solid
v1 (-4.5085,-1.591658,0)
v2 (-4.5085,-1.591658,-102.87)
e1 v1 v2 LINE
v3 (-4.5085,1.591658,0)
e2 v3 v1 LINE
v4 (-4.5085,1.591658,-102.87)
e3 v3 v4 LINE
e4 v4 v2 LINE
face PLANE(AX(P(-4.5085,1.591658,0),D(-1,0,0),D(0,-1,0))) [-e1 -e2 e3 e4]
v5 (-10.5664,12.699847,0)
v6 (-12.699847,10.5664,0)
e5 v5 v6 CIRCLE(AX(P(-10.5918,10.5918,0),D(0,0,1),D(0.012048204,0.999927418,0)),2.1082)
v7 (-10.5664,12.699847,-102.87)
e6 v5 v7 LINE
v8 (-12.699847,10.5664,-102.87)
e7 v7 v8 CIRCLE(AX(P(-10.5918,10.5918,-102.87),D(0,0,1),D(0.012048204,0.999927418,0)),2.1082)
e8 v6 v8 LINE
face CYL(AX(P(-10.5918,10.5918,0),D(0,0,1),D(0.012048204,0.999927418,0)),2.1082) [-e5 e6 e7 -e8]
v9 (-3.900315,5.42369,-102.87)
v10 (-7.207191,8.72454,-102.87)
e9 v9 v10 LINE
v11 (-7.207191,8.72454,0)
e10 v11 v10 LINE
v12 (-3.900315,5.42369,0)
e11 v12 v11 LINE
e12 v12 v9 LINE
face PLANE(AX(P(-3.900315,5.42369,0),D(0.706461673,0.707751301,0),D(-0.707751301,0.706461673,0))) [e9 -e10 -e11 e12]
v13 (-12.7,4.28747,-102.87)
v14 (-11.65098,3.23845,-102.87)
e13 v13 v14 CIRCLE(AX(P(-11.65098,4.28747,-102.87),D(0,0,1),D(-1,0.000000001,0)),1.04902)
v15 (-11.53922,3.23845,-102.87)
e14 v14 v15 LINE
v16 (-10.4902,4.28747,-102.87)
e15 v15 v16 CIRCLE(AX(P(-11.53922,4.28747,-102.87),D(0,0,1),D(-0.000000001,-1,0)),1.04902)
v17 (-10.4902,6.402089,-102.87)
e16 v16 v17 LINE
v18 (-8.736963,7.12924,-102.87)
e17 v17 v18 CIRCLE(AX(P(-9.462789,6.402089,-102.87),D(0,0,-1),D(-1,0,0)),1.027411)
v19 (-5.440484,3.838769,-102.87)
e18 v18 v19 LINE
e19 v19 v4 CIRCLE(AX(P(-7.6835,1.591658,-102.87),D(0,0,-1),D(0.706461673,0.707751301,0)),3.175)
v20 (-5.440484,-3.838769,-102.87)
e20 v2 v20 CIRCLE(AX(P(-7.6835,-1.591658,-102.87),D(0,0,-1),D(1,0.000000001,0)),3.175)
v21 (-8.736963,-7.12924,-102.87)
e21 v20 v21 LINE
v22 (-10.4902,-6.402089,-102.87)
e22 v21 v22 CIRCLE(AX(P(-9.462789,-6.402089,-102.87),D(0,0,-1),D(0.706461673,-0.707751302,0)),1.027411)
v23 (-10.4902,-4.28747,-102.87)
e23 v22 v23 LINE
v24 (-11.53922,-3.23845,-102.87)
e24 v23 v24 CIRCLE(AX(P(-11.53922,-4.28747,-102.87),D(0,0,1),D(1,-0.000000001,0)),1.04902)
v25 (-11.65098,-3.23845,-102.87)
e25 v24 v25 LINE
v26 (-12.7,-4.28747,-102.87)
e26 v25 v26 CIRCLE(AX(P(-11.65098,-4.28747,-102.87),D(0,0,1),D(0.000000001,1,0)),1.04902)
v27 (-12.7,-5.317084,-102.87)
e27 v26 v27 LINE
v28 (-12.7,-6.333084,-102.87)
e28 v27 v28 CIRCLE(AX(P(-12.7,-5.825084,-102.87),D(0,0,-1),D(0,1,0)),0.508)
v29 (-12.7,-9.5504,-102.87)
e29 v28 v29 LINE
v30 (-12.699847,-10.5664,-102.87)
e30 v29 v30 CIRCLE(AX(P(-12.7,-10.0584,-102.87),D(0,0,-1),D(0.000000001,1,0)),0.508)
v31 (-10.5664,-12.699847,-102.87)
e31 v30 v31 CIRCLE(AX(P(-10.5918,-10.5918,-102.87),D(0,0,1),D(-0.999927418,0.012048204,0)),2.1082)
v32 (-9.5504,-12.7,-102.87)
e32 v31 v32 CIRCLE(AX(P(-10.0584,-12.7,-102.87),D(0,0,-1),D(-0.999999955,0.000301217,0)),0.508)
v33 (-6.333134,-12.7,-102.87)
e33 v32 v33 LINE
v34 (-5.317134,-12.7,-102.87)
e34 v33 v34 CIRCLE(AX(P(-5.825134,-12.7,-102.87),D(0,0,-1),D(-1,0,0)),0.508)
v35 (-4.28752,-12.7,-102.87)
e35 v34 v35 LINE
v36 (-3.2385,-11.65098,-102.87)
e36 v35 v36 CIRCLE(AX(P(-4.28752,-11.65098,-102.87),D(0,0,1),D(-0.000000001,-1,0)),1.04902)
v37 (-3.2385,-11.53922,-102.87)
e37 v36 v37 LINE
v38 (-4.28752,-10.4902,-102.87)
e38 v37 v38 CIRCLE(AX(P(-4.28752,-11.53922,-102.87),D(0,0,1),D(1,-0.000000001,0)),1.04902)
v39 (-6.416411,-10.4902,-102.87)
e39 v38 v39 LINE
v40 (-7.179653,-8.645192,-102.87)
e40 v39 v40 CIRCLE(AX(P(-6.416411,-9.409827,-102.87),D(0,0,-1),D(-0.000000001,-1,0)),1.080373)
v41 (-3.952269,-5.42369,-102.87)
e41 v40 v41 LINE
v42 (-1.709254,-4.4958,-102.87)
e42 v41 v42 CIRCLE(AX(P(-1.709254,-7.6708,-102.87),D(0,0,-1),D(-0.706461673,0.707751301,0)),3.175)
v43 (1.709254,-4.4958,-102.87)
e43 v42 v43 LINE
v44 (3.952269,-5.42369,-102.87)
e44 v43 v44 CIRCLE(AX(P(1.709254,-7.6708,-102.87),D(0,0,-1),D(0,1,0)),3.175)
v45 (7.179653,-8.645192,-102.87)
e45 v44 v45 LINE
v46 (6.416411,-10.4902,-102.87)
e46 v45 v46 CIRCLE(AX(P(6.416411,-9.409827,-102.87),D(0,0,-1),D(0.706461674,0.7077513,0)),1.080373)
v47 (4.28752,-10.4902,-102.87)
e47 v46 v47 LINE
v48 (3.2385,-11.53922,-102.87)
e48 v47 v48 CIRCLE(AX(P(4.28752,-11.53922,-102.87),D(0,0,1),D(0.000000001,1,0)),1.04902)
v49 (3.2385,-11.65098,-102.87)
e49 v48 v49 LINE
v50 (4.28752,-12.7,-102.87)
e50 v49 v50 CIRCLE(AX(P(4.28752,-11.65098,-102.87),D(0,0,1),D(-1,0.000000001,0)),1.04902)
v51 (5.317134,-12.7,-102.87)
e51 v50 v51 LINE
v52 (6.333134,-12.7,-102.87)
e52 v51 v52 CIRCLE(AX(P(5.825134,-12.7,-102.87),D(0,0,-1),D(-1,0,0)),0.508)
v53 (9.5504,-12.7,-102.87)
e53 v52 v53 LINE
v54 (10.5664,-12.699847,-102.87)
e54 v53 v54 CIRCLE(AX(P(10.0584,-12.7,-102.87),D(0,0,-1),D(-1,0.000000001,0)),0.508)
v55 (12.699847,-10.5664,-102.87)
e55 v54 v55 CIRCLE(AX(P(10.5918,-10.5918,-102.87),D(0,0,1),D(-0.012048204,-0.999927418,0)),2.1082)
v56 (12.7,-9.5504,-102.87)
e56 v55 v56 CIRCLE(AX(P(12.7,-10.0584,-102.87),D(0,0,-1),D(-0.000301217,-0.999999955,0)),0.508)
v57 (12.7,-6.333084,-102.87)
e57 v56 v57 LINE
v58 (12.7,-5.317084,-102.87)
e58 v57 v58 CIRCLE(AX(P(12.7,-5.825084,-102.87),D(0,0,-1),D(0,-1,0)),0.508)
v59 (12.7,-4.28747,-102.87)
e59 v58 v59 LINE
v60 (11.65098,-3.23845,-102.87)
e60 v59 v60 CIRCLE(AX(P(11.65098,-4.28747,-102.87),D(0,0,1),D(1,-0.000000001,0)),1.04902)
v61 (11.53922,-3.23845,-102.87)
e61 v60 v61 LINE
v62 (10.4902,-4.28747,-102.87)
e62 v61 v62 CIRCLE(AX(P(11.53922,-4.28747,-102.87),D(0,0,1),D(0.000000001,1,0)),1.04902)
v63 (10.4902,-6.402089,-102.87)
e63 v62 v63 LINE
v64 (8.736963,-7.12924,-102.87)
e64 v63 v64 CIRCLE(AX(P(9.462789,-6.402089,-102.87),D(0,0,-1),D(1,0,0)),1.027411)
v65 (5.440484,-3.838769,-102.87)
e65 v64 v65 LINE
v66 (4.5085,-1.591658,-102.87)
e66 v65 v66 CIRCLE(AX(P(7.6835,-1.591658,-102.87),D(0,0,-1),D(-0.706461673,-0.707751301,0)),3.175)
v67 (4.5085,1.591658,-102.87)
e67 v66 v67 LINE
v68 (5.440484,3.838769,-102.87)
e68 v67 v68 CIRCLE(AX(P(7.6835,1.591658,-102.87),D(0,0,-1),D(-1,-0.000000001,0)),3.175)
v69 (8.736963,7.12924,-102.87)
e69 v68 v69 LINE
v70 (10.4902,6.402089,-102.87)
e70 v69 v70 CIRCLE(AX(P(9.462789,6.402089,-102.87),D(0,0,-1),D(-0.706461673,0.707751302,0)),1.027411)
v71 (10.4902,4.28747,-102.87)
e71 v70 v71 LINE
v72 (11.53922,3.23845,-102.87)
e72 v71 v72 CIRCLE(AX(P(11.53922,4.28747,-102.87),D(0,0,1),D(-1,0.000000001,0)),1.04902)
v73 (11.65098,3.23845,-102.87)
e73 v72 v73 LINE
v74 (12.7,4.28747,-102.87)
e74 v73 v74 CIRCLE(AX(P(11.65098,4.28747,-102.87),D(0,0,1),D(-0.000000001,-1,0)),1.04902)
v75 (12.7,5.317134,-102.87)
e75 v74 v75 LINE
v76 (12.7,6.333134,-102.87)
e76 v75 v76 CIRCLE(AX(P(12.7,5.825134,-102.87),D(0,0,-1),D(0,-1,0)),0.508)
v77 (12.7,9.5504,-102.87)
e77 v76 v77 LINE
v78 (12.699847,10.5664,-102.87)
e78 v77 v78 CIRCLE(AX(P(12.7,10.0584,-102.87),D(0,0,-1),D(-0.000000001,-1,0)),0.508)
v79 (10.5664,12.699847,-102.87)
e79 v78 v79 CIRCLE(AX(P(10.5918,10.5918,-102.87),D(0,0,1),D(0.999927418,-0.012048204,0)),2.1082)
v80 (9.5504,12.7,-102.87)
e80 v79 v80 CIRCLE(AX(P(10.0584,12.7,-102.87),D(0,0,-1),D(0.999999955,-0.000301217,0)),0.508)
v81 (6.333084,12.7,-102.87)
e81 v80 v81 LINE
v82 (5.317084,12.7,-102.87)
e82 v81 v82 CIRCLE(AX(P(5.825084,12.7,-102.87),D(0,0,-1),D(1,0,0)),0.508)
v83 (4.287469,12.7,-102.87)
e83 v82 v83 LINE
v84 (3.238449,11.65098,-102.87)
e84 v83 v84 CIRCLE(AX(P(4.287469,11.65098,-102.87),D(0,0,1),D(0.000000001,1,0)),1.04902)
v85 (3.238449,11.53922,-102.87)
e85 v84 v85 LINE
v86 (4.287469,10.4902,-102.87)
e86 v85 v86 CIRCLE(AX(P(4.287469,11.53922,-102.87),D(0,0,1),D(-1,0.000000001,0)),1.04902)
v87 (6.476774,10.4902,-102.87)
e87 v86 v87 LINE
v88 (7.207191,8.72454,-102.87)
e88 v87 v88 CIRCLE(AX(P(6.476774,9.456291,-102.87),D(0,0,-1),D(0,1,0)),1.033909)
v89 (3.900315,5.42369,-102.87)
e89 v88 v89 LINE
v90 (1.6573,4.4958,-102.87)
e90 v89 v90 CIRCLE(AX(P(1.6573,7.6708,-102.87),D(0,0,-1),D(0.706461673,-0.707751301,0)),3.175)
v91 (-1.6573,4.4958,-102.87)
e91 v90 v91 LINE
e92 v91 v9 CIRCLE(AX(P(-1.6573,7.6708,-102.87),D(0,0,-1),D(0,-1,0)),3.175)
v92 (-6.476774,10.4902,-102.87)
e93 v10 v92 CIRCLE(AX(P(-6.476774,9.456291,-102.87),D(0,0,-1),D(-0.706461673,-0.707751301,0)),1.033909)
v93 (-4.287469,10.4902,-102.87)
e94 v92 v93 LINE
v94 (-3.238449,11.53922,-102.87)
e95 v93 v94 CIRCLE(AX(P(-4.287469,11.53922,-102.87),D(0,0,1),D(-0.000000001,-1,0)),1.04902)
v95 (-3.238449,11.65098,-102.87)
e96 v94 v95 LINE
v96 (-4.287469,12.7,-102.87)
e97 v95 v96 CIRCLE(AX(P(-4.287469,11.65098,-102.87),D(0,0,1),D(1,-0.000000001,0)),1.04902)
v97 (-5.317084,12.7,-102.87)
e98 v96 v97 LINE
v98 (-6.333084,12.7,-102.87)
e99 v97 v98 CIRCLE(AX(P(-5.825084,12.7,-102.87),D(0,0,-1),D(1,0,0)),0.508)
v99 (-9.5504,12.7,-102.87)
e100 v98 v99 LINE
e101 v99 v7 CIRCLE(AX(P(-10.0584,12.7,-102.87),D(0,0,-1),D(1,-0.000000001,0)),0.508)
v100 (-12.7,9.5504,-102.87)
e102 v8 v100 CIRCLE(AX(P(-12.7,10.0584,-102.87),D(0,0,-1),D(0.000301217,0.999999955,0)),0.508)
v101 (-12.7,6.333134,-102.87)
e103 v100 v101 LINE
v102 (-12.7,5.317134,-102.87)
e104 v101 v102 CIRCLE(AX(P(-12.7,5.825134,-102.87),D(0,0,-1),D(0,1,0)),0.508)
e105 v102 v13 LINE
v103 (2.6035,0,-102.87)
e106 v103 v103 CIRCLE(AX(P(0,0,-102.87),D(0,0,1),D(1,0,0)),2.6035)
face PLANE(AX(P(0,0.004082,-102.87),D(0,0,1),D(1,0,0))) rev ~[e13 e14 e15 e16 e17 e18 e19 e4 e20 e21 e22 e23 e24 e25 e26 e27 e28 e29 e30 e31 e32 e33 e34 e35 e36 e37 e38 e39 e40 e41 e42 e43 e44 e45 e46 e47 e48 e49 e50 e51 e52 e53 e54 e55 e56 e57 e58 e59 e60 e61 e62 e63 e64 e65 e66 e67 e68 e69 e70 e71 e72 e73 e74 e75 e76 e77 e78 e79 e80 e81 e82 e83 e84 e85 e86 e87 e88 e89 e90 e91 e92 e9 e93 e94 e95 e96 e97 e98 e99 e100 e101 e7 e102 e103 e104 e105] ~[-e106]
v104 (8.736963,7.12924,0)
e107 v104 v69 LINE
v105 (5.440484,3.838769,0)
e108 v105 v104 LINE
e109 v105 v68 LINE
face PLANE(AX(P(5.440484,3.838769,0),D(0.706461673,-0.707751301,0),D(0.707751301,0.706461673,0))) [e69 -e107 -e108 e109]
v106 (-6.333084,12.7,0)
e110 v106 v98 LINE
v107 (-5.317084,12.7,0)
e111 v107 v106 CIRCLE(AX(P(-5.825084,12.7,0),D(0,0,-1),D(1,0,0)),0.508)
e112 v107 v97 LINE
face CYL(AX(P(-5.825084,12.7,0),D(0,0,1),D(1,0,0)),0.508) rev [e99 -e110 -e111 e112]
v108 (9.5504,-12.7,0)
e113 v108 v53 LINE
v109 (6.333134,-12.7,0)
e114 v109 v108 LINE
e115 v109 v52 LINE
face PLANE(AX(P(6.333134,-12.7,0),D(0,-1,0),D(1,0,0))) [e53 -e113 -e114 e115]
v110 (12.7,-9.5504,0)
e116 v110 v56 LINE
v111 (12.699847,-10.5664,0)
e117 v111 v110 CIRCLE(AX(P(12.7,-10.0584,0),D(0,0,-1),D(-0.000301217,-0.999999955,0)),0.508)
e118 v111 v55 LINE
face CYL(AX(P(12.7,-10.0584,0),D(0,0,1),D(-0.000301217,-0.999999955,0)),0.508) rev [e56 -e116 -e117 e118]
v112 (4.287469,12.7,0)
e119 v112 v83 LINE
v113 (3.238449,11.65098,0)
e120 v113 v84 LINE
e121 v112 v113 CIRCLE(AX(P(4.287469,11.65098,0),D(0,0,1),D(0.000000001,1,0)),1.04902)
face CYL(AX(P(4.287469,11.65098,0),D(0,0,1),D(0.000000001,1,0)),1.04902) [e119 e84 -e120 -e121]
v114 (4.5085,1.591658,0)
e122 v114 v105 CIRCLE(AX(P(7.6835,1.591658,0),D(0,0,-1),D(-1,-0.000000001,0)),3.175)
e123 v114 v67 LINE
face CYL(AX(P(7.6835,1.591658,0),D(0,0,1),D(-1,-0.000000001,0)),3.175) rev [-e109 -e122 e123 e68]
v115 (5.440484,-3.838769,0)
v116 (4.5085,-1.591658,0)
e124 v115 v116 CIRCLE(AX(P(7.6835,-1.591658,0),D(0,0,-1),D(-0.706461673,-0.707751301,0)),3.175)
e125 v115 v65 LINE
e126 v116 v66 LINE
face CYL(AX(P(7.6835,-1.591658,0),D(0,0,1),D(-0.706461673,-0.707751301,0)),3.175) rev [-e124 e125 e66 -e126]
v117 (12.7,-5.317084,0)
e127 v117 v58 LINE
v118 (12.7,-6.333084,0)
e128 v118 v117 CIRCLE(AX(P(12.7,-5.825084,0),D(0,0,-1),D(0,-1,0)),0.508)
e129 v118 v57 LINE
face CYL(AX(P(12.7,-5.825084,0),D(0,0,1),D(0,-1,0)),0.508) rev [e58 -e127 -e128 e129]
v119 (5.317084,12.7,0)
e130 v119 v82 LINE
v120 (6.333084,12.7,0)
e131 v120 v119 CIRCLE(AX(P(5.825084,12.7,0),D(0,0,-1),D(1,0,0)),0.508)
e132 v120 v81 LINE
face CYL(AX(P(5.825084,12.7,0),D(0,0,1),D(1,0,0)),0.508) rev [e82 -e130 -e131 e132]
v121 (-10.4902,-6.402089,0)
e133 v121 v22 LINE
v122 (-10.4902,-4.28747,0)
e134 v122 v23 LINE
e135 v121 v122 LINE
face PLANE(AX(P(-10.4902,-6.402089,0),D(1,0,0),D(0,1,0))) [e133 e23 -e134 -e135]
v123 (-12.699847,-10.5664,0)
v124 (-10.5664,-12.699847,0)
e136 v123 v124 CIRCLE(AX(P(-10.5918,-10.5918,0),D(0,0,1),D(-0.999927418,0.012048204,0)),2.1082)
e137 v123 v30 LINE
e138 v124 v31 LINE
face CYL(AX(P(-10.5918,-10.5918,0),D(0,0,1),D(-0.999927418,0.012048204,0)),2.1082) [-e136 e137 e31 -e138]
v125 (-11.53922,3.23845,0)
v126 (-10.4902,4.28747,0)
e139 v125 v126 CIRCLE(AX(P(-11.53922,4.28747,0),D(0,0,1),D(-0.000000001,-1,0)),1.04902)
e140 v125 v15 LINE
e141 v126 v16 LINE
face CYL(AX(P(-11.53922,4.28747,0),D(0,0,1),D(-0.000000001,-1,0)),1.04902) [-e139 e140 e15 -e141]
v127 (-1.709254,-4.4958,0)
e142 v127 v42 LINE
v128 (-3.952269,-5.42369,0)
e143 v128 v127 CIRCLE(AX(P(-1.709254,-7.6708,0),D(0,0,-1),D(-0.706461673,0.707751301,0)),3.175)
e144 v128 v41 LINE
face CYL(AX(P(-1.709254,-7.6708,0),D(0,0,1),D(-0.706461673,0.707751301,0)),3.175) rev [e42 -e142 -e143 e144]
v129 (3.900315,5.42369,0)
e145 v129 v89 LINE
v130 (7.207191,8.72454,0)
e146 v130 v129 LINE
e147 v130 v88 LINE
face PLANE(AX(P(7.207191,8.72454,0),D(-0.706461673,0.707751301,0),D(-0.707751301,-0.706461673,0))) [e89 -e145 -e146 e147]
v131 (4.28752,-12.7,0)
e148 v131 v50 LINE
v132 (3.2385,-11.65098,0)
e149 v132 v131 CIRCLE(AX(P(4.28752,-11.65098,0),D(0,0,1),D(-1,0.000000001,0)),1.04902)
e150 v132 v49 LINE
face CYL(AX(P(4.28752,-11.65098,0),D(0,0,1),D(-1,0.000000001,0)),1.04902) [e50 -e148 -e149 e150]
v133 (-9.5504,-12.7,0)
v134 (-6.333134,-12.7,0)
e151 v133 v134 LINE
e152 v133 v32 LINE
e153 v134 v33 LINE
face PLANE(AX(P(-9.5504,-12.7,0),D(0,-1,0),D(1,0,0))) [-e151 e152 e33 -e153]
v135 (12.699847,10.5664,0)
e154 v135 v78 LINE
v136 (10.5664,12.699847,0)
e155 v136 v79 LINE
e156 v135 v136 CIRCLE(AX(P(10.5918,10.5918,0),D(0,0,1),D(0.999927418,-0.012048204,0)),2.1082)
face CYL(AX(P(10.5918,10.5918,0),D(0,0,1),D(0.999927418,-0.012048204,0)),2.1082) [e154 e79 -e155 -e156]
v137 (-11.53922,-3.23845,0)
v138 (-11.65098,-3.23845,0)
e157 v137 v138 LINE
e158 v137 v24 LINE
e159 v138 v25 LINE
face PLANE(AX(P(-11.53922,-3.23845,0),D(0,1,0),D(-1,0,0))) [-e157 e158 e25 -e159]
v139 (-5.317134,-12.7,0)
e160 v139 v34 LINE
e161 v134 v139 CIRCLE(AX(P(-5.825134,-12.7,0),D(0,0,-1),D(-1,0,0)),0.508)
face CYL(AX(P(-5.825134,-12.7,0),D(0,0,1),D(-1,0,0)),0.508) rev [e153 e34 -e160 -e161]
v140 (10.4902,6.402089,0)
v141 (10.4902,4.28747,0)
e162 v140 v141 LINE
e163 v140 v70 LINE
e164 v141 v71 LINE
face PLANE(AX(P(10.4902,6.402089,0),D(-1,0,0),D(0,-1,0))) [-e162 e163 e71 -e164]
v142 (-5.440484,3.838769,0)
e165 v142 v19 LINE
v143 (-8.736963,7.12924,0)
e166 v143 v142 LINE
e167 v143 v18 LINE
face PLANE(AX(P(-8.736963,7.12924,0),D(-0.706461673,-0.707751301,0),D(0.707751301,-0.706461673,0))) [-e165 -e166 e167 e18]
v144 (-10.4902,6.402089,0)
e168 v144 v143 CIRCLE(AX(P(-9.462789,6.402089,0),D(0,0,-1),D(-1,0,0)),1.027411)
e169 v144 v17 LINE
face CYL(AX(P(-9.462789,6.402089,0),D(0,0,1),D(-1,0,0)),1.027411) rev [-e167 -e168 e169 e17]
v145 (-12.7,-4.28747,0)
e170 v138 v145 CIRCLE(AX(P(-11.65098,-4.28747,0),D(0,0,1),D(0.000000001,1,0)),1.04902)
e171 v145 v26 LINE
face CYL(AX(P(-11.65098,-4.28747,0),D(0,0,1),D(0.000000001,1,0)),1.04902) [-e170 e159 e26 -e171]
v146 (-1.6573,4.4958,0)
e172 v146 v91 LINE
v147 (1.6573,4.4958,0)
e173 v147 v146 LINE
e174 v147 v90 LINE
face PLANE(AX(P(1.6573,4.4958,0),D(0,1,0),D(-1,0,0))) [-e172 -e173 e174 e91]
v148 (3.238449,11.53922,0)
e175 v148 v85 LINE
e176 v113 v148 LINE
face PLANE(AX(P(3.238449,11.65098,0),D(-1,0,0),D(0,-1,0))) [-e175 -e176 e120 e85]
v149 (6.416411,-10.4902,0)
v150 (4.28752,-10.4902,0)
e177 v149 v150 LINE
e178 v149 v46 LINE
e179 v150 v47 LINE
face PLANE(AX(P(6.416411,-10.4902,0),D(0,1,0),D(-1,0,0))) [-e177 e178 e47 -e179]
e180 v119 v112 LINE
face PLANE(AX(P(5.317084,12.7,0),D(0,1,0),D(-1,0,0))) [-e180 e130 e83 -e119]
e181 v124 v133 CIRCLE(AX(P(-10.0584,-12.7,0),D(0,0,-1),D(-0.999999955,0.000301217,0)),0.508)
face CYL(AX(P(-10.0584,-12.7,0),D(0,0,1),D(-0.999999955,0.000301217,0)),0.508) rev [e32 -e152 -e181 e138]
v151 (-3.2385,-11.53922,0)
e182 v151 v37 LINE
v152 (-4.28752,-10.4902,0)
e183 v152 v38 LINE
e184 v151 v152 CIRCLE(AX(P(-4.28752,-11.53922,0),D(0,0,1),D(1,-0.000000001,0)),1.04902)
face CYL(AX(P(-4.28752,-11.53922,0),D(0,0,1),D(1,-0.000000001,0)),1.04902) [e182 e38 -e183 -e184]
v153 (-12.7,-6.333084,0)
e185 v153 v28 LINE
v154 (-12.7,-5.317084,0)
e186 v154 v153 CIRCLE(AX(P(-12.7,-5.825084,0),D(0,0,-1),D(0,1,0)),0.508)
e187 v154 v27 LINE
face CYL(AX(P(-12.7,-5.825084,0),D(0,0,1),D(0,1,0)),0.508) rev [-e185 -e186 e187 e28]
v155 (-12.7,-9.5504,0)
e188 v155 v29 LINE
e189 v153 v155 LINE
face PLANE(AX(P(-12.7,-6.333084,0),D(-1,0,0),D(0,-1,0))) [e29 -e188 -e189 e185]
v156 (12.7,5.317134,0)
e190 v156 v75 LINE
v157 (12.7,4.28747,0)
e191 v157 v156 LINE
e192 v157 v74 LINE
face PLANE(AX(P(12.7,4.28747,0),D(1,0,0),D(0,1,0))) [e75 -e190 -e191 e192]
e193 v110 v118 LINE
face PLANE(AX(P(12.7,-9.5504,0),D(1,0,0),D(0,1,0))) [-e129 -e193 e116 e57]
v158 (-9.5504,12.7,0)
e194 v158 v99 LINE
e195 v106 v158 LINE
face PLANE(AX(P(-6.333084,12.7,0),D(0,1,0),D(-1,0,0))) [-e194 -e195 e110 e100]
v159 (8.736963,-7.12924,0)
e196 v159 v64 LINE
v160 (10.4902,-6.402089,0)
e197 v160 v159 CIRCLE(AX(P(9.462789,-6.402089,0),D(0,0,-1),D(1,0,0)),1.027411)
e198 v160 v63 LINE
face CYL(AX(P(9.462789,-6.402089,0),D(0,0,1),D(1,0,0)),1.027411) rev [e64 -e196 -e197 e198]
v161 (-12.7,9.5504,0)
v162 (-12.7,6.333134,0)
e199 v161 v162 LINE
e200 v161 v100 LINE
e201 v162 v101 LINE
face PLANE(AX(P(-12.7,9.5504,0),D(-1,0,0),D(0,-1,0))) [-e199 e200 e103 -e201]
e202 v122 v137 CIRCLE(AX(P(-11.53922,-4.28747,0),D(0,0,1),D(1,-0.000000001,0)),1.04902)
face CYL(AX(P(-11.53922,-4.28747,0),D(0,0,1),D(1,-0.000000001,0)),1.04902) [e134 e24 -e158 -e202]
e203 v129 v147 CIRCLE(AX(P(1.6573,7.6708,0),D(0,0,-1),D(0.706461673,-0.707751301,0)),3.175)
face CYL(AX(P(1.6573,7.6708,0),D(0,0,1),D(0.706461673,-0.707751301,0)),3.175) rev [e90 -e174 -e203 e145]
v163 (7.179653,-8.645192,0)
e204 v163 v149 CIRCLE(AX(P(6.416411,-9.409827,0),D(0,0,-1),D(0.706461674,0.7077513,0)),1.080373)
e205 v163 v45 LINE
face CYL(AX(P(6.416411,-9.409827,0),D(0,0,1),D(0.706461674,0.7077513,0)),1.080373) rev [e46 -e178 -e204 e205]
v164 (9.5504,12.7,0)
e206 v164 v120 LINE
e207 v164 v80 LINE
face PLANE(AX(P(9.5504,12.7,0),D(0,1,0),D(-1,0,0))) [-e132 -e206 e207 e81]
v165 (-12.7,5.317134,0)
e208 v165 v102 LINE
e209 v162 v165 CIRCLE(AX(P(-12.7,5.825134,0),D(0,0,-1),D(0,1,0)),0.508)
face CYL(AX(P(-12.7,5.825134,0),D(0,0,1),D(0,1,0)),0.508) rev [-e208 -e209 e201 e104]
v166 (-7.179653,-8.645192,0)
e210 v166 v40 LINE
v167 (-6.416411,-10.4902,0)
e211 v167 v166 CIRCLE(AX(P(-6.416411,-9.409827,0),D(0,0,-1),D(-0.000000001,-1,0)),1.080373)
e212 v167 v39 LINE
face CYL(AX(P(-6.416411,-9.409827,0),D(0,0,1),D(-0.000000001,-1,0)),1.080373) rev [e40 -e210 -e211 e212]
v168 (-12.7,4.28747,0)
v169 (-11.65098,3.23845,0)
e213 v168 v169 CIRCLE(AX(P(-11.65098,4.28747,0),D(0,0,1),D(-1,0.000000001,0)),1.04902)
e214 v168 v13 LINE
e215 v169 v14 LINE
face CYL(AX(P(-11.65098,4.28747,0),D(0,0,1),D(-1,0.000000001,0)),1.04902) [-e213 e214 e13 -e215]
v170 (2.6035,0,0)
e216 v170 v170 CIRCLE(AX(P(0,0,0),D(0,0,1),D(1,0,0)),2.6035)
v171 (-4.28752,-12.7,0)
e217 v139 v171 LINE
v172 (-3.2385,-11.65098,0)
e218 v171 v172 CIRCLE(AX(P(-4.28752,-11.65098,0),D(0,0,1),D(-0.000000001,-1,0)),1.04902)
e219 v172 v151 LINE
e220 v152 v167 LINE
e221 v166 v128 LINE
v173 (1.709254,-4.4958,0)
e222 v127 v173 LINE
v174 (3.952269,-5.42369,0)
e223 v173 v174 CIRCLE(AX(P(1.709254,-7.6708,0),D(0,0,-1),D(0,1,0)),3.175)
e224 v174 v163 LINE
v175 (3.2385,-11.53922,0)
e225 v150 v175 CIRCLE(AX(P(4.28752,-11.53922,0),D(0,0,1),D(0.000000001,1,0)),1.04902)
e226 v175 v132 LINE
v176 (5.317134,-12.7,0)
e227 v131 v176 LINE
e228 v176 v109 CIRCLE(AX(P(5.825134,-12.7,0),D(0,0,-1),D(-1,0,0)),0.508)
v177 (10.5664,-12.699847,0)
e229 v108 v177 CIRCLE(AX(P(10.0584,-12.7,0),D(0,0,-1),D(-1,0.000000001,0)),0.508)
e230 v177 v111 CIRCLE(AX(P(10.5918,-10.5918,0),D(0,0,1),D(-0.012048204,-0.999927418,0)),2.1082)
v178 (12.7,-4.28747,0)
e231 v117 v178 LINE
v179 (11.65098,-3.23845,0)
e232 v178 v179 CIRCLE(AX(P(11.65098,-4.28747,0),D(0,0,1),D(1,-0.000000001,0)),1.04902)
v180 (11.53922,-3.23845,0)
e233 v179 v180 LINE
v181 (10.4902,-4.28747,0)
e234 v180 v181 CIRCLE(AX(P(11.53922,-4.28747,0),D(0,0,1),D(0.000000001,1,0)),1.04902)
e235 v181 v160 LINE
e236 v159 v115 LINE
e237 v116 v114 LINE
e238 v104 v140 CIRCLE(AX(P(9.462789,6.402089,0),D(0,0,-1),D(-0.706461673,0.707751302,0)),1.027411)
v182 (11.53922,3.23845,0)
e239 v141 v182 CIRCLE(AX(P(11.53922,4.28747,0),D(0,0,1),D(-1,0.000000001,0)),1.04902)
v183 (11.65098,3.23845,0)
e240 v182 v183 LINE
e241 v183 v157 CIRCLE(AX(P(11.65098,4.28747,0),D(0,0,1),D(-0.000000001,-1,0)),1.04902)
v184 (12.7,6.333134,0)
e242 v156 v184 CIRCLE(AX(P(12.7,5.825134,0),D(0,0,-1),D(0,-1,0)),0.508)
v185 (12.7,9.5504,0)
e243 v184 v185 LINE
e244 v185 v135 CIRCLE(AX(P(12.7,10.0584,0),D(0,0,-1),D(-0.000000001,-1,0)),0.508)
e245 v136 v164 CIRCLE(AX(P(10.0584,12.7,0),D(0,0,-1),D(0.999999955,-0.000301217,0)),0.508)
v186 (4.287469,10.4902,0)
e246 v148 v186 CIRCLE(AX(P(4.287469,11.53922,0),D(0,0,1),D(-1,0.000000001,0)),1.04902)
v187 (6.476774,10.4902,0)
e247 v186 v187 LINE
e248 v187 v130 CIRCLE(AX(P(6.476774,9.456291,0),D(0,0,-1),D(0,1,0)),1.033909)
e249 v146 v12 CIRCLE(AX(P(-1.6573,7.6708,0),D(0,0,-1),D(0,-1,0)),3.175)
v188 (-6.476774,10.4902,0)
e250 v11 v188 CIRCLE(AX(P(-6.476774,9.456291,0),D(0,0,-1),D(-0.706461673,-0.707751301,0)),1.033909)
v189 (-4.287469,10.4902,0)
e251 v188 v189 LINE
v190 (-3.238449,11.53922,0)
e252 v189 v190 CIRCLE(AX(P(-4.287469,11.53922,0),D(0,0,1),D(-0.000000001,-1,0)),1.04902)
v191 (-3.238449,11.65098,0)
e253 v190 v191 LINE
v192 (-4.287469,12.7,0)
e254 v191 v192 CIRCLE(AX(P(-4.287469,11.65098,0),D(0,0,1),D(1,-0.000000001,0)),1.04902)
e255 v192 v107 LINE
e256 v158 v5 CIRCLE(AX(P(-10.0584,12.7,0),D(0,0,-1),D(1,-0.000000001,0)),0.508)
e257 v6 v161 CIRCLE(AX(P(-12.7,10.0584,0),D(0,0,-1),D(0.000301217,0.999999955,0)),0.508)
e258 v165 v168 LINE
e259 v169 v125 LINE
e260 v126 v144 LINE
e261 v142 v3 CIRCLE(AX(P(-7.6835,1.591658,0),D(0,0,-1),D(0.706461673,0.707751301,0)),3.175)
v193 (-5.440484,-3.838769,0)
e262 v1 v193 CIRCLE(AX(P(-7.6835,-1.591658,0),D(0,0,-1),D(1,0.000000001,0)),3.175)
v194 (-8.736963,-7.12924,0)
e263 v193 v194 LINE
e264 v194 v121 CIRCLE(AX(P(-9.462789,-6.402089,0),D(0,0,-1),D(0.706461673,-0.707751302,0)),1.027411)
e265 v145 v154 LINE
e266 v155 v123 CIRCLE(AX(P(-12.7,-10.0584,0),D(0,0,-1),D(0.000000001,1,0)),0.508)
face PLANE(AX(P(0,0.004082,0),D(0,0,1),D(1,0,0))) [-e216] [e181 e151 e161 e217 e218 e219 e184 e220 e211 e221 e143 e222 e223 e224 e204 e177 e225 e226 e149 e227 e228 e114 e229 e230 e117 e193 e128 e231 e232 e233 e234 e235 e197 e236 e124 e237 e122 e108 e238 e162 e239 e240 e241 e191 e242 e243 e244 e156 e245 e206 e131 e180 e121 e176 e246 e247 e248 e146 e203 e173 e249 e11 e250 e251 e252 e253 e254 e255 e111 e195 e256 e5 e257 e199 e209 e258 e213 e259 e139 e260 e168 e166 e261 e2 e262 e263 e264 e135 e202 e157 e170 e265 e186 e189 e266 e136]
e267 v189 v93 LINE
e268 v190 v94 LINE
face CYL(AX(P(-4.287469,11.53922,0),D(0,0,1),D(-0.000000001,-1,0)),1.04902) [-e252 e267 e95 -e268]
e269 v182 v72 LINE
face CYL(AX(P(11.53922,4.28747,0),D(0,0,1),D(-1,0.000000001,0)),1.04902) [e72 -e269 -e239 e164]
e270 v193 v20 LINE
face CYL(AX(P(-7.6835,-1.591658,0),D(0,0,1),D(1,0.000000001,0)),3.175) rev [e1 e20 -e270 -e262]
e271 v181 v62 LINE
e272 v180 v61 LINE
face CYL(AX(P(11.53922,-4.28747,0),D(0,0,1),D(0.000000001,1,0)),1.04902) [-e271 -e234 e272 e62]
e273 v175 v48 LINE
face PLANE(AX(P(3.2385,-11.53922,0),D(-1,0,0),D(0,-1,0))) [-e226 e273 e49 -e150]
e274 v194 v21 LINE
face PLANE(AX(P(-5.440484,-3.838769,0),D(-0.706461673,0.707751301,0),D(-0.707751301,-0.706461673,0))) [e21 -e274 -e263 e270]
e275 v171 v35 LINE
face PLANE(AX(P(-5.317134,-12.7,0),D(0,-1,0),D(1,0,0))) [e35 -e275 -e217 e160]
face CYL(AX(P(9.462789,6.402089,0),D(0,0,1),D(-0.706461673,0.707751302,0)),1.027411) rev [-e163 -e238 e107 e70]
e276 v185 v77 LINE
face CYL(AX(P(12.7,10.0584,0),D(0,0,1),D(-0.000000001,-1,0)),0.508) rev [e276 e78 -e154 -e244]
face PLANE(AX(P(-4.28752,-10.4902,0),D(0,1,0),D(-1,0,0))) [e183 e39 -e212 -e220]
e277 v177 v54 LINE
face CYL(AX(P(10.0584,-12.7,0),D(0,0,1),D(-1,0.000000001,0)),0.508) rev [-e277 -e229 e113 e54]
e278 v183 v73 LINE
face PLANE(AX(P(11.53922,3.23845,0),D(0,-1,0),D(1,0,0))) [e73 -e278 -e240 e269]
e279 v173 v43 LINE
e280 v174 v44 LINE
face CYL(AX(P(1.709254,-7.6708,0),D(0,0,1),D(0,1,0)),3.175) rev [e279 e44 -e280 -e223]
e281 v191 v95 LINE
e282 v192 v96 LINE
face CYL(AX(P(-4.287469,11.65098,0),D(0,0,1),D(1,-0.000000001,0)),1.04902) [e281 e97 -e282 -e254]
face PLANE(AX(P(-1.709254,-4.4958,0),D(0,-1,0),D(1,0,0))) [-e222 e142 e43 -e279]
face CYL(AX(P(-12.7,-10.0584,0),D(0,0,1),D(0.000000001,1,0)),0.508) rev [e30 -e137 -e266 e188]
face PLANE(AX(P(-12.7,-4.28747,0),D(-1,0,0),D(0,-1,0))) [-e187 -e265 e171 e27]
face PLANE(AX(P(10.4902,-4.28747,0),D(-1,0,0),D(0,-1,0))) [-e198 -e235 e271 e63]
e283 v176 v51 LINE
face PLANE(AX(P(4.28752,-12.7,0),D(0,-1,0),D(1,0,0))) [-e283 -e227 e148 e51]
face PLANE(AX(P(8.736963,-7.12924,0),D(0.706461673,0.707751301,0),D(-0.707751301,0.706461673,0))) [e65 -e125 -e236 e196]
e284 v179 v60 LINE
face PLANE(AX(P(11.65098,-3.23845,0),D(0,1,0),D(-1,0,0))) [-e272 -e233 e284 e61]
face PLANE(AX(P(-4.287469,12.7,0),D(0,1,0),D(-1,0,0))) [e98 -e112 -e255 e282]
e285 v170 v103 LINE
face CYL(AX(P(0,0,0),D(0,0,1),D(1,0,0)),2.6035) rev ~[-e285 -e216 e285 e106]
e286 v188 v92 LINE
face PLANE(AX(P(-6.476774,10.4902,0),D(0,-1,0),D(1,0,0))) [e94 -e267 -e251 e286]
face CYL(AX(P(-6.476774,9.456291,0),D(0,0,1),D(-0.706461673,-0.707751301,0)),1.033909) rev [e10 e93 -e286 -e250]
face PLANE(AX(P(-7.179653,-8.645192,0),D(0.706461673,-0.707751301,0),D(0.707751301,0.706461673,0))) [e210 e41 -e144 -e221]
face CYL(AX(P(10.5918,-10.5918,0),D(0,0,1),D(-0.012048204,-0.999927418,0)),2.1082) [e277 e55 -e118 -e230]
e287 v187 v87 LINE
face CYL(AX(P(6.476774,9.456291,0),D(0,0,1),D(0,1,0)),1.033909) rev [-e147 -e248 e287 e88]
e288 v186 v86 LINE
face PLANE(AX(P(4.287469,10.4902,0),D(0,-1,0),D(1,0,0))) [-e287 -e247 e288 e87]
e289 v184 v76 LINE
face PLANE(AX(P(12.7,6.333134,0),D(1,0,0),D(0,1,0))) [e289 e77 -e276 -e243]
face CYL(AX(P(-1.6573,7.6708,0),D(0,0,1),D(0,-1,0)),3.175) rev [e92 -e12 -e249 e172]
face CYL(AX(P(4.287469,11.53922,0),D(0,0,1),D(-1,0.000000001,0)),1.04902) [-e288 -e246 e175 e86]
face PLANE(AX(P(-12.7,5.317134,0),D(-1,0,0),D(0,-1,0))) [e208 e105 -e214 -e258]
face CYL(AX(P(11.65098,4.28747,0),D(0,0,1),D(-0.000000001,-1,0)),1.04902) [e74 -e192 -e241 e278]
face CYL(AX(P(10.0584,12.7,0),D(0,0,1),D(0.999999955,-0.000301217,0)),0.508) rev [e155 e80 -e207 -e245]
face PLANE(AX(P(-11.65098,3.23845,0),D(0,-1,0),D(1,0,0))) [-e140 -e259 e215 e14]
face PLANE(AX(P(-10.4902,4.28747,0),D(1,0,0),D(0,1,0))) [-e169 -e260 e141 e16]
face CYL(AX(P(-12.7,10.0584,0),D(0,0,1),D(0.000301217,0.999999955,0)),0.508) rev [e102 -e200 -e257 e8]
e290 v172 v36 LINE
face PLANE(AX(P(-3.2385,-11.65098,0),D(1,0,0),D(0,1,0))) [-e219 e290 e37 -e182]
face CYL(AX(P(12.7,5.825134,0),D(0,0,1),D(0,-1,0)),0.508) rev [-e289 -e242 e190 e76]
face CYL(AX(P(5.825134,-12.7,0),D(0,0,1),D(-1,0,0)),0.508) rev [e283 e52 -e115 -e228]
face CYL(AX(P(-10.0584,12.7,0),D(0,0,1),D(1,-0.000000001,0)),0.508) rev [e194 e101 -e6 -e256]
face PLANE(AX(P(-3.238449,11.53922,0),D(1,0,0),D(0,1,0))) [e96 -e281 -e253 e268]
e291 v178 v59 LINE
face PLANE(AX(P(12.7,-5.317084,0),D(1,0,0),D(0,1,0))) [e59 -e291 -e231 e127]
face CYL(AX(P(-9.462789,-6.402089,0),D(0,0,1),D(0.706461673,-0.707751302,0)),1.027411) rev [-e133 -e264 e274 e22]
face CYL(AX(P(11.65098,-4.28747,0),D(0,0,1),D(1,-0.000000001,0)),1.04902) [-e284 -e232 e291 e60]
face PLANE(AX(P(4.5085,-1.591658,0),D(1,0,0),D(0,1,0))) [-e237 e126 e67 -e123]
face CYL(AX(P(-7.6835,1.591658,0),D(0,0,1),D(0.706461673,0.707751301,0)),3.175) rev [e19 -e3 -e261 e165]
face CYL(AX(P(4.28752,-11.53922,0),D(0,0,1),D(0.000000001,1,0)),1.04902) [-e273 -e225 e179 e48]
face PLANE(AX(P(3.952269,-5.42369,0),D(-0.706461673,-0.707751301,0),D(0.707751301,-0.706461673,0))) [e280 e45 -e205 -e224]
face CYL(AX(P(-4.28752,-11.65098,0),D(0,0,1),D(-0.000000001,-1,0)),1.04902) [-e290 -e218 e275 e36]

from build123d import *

# Parameters (mm, degrees)
SKETCH1_R      = 2.6035
EXTRUDE1_DEPTH = 102.87


with BuildPart() as part:
    # Sketch1 → Extrude1 (new body)
    with BuildSketch(Plane.XY):
        with BuildLine():
            Line((-1.709253557, -4.4958), (1.709253557, -4.4958))
            ThreePointArc((1.709253557, -4.4958), (2.922935876, -4.736928798), (3.95226937, -5.423689619))
            Line((3.95226937, -5.423689619), (7.179652728, -8.645192207))
            ThreePointArc((7.179652728, -8.645192207), (7.414733441, -9.822812921), (6.41641086, -10.4902))
            Line((6.41641086, -10.4902), (4.28752, -10.4902))
            ThreePointArc((4.28752, -10.4902), (3.545750844, -10.797450844), (3.2385, -11.53922))
            Line((3.2385, -11.53922), (3.2385, -11.65098))
            ThreePointArc((3.2385, -11.65098), (3.545750844, -12.392749156), (4.28752, -12.7))
            Line((4.28752, -12.7), (5.3171344, -12.7))
            ThreePointArc((5.3171344, -12.7), (5.8251344, -12.192), (6.3331344, -12.7))
            Line((6.3331344, -12.7), (9.5504, -12.7))
            ThreePointArc((9.5504, -12.7), (10.058323491, -12.192000006), (10.566399977, -12.699846982))
            ThreePointArc((10.566399977, -12.699846982), (12.082522516, -12.082522516), (12.699846982, -10.566399977))
            ThreePointArc((12.699846982, -10.566399977), (12.192000006, -10.058323491), (12.7, -9.5504))
            Line((12.7, -9.5504), (12.7, -6.3330836))
            ThreePointArc((12.7, -6.3330836), (12.192, -5.8250836), (12.7, -5.3170836))
            Line((12.7, -5.3170836), (12.7, -4.287470133))
            ThreePointArc((12.7, -4.287470133), (12.392749156, -3.545700977), (11.65098, -3.238450133))
            Line((11.65098, -3.238450133), (11.53922, -3.238450133))
            ThreePointArc((11.53922, -3.238450133), (10.797450844, -3.545700977), (10.4902, -4.287470133))
            Line((10.4902, -4.287470133), (10.4902, -6.402089023))
            ThreePointArc((10.4902, -6.402089023), (9.856394933, -7.351113629), (8.736962546, -7.129240479))
            Line((8.736962546, -7.129240479), (5.440484187, -3.838768792))
            ThreePointArc((5.440484187, -3.838768792), (4.75073678, -2.808015636), (4.5085, -1.591658411))
            Line((4.5085, -1.591658411), (4.5085, 1.591658411))
            ThreePointArc((4.5085, 1.591658411), (4.75073678, 2.808015636), (5.440484187, 3.838768792))
            Line((5.440484187, 3.838768792), (8.736962546, 7.129240479))
            ThreePointArc((8.736962546, 7.129240479), (9.856394933, 7.351113629), (10.4902, 6.402089023))
            Line((10.4902, 6.402089023), (10.4902, 4.287470133))
            ThreePointArc((10.4902, 4.287470133), (10.797450844, 3.545700977), (11.53922, 3.238450133))
            Line((11.53922, 3.238450133), (11.65098, 3.238450133))
            ThreePointArc((11.65098, 3.238450133), (12.392749156, 3.545700977), (12.7, 4.287470133))
            Line((12.7, 4.287470133), (12.7, 5.3171344))
            ThreePointArc((12.7, 5.3171344), (12.192, 5.8251344), (12.7, 6.3331344))
            Line((12.7, 6.3331344), (12.7, 9.5504))
            ThreePointArc((12.7, 9.5504), (12.192000006, 10.058323491), (12.699846982, 10.566399977))
            ThreePointArc((12.699846982, 10.566399977), (12.082522516, 12.082522516), (10.566399977, 12.699846982))
            ThreePointArc((10.566399977, 12.699846982), (10.058323491, 12.192000006), (9.5504, 12.7))
            Line((9.5504, 12.7), (6.3330836, 12.7))
            ThreePointArc((6.3330836, 12.7), (5.8250836, 12.192), (5.3170836, 12.7))
            Line((5.3170836, 12.7), (4.2874692, 12.7))
            ThreePointArc((4.2874692, 12.7), (3.545700044, 12.392749156), (3.2384492, 11.65098))
            Line((3.2384492, 11.65098), (3.2384492, 11.53922))
            ThreePointArc((3.2384492, 11.53922), (3.545700044, 10.797450844), (4.2874692, 10.4902))
            Line((4.2874692, 10.4902), (6.476774195, 10.4902))
            ThreePointArc((6.476774195, 10.4902), (7.43216212, 9.851515102), (7.207191475, 8.724540082))
            Line((7.207191475, 8.724540082), (3.900315394, 5.423689619))
            ThreePointArc((3.900315394, 5.423689619), (2.8709819, 4.736928798), (1.657299581, 4.4958))
            Line((1.657299581, 4.4958), (-1.657299581, 4.4958))
            ThreePointArc((-1.657299581, 4.4958), (-2.8709819, 4.736928798), (-3.900315394, 5.423689619))
            Line((-3.900315394, 5.423689619), (-7.207191475, 8.724540082))
            ThreePointArc((-7.207191475, 8.724540082), (-7.43216212, 9.851515102), (-6.476774195, 10.4902))
            Line((-6.476774195, 10.4902), (-4.2874692, 10.4902))
            ThreePointArc((-4.2874692, 10.4902), (-3.545700044, 10.797450844), (-3.2384492, 11.53922))
            Line((-3.2384492, 11.53922), (-3.2384492, 11.65098))
            ThreePointArc((-3.2384492, 11.65098), (-3.545700044, 12.392749156), (-4.2874692, 12.7))
            Line((-4.2874692, 12.7), (-5.3170836, 12.7))
            ThreePointArc((-5.3170836, 12.7), (-5.8250836, 12.192), (-6.3330836, 12.7))
            Line((-6.3330836, 12.7), (-9.5504, 12.7))
            ThreePointArc((-9.5504, 12.7), (-10.058323491, 12.192000006), (-10.566399977, 12.699846982))
            ThreePointArc((-10.566399977, 12.699846982), (-12.082522516, 12.082522516), (-12.699846982, 10.566399977))
            ThreePointArc((-12.699846982, 10.566399977), (-12.192000006, 10.058323491), (-12.7, 9.5504))
            Line((-12.7, 9.5504), (-12.7, 6.3331344))
            ThreePointArc((-12.7, 6.3331344), (-12.192, 5.8251344), (-12.7, 5.3171344))
            Line((-12.7, 5.3171344), (-12.7, 4.287470133))
            ThreePointArc((-12.7, 4.287470133), (-12.392749156, 3.545700977), (-11.65098, 3.238450133))
            Line((-11.65098, 3.238450133), (-11.53922, 3.238450133))
            ThreePointArc((-11.53922, 3.238450133), (-10.797450844, 3.545700977), (-10.4902, 4.287470133))
            Line((-10.4902, 4.287470133), (-10.4902, 6.402089023))
            ThreePointArc((-10.4902, 6.402089023), (-9.856394933, 7.351113629), (-8.736962546, 7.129240479))
            Line((-8.736962546, 7.129240479), (-5.440484187, 3.838768792))
            ThreePointArc((-5.440484187, 3.838768792), (-4.75073678, 2.808015636), (-4.5085, 1.591658411))
            Line((-4.5085, 1.591658411), (-4.5085, -1.591658411))
            ThreePointArc((-4.5085, -1.591658411), (-4.75073678, -2.808015636), (-5.440484187, -3.838768792))
            Line((-5.440484187, -3.838768792), (-8.736962546, -7.129240479))
            ThreePointArc((-8.736962546, -7.129240479), (-9.856394933, -7.351113629), (-10.4902, -6.402089023))
            Line((-10.4902, -6.402089023), (-10.4902, -4.287470133))
            ThreePointArc((-10.4902, -4.287470133), (-10.797450844, -3.545700977), (-11.53922, -3.238450133))
            Line((-11.53922, -3.238450133), (-11.65098, -3.238450133))
            ThreePointArc((-11.65098, -3.238450133), (-12.392749156, -3.545700977), (-12.7, -4.287470133))
            Line((-12.7, -4.287470133), (-12.7, -5.3170836))
            ThreePointArc((-12.7, -5.3170836), (-12.192, -5.8250836), (-12.7, -6.3330836))
            Line((-12.7, -6.3330836), (-12.7, -9.5504))
            ThreePointArc((-12.7, -9.5504), (-12.192000006, -10.058323491), (-12.699846982, -10.566399977))
            ThreePointArc((-12.699846982, -10.566399977), (-12.082522516, -12.082522516), (-10.566399977, -12.699846982))
            ThreePointArc((-10.566399977, -12.699846982), (-10.058323491, -12.192000006), (-9.5504, -12.7))
            Line((-9.5504, -12.7), (-6.3331344, -12.7))
            ThreePointArc((-6.3331344, -12.7), (-5.8251344, -12.192), (-5.3171344, -12.7))
            Line((-5.3171344, -12.7), (-4.28752, -12.7))
            ThreePointArc((-4.28752, -12.7), (-3.545750844, -12.392749156), (-3.2385, -11.65098))
            Line((-3.2385, -11.65098), (-3.2385, -11.53922))
            ThreePointArc((-3.2385, -11.53922), (-3.545750844, -10.797450844), (-4.28752, -10.4902))
            Line((-4.28752, -10.4902), (-6.41641086, -10.4902))
            ThreePointArc((-6.41641086, -10.4902), (-7.414733441, -9.822812921), (-7.179652728, -8.645192207))
            Line((-7.179652728, -8.645192207), (-3.95226937, -5.423689619))
            ThreePointArc((-3.95226937, -5.423689619), (-2.922935876, -4.736928798), (-1.709253557, -4.4958))
        make_face()
        Circle(SKETCH1_R, mode=Mode.SUBTRACT)
    extrude(amount=-EXTRUDE1_DEPTH)


solid = part.part
